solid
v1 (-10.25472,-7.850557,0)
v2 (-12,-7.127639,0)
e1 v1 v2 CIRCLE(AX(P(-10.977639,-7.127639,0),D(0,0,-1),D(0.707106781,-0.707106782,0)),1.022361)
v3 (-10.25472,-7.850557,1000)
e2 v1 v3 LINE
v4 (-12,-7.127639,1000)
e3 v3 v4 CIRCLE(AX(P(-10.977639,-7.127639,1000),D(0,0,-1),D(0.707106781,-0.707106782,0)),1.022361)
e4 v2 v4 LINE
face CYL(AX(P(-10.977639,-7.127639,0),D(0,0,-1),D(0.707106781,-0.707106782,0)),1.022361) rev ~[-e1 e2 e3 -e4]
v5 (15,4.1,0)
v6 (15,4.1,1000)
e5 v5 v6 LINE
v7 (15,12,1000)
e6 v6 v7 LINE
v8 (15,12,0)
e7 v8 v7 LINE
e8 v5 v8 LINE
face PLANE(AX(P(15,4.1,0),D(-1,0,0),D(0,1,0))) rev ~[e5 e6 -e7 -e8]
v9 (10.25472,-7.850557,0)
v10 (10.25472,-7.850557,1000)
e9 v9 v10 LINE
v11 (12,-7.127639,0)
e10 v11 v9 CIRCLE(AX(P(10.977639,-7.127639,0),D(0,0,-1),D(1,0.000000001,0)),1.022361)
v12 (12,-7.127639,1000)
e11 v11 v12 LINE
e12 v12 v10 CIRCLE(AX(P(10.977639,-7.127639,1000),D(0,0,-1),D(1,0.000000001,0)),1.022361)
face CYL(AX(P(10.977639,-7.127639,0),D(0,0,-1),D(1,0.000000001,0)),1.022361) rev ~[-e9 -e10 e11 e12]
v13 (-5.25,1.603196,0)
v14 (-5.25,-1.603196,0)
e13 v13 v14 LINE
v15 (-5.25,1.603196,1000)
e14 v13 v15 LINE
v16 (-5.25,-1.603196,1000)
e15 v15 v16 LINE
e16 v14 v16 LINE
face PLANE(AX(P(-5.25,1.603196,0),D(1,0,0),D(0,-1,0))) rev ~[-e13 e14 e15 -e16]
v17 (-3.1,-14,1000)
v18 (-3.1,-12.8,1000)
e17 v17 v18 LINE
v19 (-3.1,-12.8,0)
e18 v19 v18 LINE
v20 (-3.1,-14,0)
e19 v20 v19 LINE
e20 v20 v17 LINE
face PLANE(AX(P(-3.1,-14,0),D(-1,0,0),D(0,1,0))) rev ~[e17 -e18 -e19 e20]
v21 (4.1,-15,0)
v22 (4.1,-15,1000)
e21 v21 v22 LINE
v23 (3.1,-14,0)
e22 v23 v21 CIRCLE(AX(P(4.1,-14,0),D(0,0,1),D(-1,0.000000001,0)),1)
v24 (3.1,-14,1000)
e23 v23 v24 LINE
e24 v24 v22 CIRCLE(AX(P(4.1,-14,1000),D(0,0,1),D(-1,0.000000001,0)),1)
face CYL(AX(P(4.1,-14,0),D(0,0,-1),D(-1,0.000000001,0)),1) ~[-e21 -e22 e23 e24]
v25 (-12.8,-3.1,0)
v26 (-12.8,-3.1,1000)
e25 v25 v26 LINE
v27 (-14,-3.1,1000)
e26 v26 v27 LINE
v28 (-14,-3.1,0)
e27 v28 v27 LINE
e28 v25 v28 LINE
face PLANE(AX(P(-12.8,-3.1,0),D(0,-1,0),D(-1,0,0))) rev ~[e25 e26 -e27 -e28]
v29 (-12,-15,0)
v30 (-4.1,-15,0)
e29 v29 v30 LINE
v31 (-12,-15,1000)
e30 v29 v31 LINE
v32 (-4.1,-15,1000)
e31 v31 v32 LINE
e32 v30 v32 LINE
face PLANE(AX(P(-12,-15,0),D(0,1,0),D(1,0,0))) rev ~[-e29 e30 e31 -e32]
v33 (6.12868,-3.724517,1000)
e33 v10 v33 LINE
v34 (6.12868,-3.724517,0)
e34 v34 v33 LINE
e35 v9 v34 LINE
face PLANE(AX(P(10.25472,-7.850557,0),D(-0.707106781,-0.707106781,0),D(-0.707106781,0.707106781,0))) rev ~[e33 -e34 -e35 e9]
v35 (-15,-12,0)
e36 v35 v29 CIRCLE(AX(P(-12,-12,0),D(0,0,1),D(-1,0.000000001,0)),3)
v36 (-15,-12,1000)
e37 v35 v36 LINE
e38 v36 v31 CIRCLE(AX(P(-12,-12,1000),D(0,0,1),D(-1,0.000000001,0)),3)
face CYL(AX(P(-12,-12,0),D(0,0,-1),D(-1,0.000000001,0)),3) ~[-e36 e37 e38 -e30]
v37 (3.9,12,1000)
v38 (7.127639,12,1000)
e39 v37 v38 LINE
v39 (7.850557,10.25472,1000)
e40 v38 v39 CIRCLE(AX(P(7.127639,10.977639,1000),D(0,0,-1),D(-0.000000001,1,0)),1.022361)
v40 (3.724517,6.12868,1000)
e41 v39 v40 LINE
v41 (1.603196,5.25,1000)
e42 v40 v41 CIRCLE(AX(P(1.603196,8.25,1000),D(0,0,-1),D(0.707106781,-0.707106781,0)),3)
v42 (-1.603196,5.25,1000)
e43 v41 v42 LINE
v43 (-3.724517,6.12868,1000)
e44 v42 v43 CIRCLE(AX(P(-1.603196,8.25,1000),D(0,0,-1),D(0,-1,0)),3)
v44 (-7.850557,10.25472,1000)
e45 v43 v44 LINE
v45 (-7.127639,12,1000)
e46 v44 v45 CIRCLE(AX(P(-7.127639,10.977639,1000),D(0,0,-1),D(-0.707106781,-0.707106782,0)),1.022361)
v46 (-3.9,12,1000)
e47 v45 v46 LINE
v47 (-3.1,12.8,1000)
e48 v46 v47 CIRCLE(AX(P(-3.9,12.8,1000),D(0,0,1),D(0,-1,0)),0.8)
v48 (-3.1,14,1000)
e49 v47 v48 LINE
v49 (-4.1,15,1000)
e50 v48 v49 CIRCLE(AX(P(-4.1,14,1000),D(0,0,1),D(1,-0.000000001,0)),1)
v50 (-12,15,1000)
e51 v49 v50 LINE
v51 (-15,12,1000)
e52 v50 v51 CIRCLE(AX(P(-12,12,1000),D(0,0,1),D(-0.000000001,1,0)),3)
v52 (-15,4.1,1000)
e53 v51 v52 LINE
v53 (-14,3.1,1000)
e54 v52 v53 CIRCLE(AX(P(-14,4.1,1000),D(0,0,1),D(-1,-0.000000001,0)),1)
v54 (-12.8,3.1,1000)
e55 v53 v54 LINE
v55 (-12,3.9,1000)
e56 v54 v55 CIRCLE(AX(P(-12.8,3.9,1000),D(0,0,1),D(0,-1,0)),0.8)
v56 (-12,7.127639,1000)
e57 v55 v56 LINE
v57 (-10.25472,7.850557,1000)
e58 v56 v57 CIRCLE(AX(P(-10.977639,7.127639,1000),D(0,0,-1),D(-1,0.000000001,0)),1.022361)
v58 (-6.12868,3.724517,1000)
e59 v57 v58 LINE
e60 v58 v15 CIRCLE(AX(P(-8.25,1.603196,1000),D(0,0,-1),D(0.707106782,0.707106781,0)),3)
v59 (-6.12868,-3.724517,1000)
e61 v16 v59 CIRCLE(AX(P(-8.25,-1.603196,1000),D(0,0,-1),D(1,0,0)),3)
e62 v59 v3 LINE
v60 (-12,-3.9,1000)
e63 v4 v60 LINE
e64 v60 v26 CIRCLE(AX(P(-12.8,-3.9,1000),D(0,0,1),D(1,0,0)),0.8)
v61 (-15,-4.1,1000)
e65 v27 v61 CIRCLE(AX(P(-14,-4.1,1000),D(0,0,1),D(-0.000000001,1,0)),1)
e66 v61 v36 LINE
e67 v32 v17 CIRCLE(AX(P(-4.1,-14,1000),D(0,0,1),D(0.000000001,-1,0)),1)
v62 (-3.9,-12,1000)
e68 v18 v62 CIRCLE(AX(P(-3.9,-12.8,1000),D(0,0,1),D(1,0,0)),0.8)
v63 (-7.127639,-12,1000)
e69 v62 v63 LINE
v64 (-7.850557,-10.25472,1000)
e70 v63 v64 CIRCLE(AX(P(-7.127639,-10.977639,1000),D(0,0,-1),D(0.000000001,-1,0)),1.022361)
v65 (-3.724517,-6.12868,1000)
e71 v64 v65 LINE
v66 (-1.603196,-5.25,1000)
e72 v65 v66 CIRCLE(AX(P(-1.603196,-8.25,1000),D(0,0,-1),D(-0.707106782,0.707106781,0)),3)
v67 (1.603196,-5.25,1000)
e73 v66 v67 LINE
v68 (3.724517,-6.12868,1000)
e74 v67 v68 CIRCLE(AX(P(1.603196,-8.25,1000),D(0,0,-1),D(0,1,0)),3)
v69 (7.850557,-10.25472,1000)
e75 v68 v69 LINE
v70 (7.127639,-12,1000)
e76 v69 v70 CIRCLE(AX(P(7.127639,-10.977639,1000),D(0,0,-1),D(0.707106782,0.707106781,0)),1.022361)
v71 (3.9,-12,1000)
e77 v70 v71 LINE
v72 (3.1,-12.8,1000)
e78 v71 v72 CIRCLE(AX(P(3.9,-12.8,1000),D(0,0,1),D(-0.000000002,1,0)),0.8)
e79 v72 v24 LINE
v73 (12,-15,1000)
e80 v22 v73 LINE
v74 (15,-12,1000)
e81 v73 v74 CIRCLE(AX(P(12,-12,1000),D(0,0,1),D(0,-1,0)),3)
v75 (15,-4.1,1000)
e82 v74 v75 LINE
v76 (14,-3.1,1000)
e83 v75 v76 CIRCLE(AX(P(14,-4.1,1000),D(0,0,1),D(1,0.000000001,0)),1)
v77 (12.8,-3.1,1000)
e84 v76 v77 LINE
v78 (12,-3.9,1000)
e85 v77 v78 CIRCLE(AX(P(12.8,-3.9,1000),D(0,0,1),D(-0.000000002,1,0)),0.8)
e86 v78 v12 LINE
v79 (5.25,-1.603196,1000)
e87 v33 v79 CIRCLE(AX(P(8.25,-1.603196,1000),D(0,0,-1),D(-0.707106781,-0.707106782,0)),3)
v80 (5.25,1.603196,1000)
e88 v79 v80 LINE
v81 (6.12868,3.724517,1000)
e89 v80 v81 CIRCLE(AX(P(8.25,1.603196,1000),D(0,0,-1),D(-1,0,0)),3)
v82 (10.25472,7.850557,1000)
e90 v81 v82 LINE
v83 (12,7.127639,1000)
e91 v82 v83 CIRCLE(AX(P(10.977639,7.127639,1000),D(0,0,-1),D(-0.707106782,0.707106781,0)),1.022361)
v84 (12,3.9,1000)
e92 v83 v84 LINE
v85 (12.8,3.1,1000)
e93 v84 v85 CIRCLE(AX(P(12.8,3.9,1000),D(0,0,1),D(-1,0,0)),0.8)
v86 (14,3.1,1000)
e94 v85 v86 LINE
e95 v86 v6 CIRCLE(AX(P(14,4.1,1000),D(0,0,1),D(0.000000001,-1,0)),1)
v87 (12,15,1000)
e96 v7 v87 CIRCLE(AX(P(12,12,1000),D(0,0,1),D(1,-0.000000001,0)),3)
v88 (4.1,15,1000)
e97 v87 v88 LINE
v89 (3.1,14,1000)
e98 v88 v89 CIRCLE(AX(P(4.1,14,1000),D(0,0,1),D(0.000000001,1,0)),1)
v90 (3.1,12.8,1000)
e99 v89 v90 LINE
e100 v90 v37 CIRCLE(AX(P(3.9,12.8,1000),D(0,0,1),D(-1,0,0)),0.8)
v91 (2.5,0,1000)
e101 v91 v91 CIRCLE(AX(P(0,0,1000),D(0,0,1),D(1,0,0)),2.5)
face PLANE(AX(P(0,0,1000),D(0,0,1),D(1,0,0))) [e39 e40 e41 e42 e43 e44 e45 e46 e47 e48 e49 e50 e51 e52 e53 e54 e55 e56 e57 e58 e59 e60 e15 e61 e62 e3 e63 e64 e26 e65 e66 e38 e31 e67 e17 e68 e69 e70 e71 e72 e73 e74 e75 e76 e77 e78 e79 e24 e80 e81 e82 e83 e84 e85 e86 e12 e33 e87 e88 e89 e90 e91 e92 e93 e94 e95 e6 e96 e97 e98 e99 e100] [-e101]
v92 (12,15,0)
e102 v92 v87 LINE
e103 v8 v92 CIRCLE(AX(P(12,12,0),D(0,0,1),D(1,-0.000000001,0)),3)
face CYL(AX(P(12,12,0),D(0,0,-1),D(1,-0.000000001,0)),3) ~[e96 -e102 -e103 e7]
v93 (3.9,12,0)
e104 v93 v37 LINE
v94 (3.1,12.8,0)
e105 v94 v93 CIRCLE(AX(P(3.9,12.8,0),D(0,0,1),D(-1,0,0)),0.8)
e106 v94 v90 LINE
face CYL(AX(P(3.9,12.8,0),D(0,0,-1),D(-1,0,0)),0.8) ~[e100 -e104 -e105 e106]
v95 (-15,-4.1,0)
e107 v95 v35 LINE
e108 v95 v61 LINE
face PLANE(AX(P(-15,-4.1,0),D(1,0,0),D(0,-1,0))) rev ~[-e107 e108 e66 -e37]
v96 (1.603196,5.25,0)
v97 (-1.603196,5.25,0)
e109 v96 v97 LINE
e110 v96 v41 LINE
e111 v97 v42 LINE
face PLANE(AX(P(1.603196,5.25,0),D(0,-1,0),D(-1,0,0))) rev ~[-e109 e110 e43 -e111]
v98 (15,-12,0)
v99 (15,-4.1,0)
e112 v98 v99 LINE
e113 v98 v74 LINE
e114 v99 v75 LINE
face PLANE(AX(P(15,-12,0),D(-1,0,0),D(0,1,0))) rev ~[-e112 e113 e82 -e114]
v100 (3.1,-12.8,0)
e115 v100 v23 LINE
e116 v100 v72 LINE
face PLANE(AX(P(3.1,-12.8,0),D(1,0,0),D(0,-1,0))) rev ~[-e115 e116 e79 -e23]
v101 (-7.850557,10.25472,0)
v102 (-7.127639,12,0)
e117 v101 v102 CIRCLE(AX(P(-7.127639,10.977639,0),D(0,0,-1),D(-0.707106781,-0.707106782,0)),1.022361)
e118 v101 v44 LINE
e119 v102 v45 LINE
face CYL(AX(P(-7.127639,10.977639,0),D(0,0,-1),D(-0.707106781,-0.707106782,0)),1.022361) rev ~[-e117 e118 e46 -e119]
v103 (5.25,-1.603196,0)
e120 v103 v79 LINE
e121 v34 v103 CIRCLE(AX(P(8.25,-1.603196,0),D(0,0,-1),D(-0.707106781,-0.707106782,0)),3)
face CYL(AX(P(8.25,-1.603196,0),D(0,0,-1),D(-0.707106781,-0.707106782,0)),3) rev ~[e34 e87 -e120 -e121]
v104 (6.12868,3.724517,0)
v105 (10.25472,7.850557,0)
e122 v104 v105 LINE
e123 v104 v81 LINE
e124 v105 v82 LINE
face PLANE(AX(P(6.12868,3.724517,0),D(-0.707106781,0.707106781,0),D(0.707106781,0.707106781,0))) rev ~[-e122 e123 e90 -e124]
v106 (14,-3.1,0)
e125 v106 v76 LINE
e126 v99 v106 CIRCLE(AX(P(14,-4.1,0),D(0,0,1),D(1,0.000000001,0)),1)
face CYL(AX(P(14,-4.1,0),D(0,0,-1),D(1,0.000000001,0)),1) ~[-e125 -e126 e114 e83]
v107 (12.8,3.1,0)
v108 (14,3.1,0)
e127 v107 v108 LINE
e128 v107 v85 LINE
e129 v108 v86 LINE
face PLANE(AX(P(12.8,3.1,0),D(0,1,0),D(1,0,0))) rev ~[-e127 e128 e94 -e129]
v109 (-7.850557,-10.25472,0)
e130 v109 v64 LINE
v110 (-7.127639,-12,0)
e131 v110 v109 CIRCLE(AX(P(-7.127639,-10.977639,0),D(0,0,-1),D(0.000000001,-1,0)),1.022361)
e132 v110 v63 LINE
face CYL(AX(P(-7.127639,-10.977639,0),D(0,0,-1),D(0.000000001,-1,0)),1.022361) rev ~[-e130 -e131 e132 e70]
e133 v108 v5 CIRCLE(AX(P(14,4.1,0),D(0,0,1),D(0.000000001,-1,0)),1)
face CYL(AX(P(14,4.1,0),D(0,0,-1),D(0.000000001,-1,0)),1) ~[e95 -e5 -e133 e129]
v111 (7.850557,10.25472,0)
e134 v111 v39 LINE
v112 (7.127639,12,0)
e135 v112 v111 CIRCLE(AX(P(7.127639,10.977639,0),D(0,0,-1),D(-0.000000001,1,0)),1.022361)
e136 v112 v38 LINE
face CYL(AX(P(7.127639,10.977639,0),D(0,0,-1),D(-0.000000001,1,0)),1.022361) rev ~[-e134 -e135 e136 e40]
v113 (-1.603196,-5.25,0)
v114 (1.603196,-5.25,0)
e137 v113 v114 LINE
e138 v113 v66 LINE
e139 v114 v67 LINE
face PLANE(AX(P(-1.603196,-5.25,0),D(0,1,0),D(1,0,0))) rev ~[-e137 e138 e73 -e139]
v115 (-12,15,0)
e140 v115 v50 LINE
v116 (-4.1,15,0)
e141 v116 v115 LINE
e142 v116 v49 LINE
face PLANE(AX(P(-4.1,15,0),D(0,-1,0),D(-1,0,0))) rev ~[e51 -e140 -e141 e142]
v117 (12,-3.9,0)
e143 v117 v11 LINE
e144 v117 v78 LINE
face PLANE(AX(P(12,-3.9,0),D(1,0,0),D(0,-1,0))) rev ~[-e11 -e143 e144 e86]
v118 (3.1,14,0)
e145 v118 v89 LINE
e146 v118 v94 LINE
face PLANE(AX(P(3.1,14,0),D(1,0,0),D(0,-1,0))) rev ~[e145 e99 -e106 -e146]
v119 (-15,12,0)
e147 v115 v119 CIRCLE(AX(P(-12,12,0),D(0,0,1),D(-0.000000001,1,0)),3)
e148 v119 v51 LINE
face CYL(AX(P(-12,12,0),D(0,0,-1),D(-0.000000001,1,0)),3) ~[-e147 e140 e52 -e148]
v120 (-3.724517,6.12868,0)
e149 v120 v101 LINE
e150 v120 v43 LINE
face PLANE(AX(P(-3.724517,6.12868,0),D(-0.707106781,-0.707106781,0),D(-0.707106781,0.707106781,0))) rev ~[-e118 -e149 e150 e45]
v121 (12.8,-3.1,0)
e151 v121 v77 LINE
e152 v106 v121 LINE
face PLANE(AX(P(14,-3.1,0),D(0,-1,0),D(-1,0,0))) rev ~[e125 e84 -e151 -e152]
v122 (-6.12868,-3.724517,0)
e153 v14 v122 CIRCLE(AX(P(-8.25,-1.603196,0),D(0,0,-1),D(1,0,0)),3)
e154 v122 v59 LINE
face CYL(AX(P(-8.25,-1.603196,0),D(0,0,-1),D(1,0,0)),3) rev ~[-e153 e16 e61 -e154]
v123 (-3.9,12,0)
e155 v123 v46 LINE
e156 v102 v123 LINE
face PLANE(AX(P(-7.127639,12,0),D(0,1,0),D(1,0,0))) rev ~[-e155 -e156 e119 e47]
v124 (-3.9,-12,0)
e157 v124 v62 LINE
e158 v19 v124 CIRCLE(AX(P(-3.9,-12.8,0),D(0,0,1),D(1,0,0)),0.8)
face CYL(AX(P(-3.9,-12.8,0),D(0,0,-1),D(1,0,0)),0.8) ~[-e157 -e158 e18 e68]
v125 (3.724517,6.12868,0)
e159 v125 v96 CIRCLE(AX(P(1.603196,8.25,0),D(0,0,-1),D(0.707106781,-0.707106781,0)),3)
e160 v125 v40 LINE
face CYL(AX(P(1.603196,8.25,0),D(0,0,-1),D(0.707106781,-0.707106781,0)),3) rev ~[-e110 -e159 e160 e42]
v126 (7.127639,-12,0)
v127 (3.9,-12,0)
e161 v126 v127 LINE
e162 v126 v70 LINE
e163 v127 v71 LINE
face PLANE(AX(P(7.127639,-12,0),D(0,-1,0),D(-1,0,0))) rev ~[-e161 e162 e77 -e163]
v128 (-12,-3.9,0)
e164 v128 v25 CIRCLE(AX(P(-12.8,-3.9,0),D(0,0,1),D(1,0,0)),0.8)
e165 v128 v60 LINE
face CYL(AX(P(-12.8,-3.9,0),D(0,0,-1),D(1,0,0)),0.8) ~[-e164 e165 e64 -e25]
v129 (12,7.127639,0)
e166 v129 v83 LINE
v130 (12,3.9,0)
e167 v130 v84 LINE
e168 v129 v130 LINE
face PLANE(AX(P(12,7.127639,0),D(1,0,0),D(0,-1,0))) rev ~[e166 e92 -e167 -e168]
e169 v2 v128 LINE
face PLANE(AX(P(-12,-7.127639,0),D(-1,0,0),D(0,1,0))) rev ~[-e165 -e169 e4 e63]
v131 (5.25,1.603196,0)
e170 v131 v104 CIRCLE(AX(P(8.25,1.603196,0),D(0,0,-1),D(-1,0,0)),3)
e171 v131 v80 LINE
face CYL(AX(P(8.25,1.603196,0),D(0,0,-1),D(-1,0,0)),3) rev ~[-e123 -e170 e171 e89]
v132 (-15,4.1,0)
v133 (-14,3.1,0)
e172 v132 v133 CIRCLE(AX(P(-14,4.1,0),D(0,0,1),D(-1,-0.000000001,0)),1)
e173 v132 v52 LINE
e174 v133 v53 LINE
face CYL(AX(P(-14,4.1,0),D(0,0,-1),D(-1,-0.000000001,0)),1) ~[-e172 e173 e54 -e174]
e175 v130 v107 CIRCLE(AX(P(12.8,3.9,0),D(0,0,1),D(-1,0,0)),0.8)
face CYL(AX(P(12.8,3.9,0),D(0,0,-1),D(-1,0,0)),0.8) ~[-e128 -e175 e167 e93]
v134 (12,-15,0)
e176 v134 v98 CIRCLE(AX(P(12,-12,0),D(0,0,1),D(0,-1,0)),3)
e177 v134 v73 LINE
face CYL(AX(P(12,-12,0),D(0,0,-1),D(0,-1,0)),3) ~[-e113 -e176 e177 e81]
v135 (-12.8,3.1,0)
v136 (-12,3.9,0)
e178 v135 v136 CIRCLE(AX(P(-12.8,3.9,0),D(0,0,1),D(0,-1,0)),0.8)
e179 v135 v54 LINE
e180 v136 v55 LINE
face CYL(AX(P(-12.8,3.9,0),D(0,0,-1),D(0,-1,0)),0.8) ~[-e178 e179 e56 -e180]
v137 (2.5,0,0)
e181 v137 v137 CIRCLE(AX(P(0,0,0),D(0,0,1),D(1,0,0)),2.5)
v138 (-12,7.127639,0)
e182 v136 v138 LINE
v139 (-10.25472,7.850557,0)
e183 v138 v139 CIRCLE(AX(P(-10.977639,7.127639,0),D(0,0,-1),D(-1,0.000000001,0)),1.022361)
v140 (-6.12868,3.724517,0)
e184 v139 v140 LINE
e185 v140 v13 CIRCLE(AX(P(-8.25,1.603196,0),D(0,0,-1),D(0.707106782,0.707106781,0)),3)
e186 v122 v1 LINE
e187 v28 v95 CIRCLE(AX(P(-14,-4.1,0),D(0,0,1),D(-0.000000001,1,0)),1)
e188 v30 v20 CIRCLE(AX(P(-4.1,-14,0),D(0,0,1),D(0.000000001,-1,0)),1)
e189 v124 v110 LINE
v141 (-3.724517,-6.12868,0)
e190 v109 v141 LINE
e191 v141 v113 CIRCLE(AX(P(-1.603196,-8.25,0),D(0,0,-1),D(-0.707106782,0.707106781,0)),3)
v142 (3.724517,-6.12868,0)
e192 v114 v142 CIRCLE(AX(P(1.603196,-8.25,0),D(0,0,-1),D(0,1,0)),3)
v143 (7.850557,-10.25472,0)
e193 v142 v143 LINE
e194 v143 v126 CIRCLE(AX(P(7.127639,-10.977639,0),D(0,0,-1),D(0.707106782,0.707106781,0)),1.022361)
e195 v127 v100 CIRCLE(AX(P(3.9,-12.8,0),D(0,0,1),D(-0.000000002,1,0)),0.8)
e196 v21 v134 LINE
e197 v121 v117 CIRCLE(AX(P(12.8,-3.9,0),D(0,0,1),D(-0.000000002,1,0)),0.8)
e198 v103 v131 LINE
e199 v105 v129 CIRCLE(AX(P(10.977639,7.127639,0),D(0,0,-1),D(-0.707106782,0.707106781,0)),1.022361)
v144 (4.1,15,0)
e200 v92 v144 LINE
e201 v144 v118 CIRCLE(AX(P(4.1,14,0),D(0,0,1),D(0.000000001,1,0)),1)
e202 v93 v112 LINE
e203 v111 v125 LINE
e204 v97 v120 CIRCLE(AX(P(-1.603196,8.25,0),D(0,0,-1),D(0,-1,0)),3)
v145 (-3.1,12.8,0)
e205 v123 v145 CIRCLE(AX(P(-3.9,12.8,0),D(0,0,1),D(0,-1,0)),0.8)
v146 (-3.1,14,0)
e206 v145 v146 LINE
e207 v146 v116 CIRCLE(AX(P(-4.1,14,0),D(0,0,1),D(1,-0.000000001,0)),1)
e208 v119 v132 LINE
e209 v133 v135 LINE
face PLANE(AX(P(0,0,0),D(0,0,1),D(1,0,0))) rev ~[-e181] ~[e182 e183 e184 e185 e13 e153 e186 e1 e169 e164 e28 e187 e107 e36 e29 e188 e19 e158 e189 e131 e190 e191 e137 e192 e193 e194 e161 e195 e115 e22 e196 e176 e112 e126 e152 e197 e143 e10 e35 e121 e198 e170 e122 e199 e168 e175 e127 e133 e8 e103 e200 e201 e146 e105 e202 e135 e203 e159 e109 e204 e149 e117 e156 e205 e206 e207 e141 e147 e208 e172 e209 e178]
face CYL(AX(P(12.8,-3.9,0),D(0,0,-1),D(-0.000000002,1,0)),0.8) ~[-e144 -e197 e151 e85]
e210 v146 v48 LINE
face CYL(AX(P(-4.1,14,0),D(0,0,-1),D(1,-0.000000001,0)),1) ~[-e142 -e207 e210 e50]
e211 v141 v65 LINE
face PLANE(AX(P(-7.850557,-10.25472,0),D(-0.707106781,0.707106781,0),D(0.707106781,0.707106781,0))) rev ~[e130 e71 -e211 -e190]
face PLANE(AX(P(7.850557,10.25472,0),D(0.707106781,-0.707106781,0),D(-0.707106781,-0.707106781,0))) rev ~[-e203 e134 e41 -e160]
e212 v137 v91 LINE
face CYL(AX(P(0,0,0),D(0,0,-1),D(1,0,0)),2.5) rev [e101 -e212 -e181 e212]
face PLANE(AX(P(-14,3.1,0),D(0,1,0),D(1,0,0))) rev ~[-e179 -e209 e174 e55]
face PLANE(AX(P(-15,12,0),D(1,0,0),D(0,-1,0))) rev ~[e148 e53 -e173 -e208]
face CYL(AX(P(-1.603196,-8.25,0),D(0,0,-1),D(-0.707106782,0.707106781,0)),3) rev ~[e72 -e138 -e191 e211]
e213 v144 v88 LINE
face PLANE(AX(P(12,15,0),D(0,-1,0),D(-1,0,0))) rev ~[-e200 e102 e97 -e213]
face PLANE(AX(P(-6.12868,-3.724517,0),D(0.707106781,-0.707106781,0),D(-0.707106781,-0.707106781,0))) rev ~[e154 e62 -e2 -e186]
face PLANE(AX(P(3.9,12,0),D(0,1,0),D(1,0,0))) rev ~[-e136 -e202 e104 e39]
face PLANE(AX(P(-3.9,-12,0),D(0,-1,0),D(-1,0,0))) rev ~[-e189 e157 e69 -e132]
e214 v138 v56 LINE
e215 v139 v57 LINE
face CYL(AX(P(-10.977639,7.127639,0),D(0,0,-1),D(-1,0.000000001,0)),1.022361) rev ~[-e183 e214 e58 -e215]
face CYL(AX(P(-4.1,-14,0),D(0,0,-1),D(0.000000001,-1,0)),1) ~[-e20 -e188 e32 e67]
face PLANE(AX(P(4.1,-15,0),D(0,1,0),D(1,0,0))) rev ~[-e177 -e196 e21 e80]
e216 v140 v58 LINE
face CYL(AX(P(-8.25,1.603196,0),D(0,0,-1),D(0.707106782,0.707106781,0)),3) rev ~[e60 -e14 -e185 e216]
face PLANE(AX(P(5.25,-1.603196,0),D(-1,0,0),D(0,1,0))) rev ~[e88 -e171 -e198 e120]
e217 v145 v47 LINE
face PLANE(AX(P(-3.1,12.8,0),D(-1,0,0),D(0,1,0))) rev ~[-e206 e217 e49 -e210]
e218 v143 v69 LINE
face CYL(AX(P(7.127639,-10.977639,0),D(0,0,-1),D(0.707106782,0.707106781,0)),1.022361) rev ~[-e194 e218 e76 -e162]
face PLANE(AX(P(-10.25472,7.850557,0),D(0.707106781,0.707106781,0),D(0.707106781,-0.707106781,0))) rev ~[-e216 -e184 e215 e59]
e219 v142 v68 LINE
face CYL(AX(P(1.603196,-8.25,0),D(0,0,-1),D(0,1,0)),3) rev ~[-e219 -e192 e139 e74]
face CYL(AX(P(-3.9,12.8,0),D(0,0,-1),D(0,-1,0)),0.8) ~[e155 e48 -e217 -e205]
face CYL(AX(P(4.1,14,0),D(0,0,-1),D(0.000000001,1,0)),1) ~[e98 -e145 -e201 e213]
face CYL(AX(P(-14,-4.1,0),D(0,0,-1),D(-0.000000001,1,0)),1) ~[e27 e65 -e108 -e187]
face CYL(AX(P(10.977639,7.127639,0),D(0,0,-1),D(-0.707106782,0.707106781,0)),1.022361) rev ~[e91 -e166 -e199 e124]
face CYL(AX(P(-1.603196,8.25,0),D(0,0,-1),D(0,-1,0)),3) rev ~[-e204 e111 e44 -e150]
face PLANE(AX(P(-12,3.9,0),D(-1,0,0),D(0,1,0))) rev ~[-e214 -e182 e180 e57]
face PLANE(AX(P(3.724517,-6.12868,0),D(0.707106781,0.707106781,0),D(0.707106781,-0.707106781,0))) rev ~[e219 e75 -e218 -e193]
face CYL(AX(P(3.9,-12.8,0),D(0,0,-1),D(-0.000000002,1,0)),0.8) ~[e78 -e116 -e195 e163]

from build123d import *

# Parameters (mm, degrees)
SKETCH1_R           = 2.5
BOSS_EXTRUDE1_DEPTH = 1000


with BuildPart() as part:
    # Sketch1 → Boss-Extrude1 (new body)
    with BuildSketch(Plane.XY):
        with BuildLine():
            Line((1.603196264, 5.250000001), (-1.603196256, 5.250000001))
            ThreePointArc((-1.603196256, 5.250000001), (-2.751246551, 5.478361403), (-3.724516596, 6.128679656))
            Line((-3.724516596, 6.128679656), (-7.850557356, 10.254720416))
            ThreePointArc((-7.850557356, 10.254720416), (-8.072177387, 11.368879549), (-7.127638883, 12))
            Line((-7.127638883, 12), (-3.899999993, 12))
            ThreePointArc((-3.899999993, 12), (-3.334314568, 12.234314575), (-3.099999993, 12.8))
            Line((-3.099999993, 12.8), (-3.099999993, 14))
            ThreePointArc((-3.099999993, 14), (-3.392893211, 14.707106781), (-4.099999993, 15))
            Line((-4.099999993, 15), (-11.999999993, 15))
            ThreePointArc((-11.999999993, 15), (-14.121320336, 14.121320343), (-14.999999993, 12))
            Line((-14.999999993, 12), (-14.999999993, 4.1))
            ThreePointArc((-14.999999993, 4.1), (-14.707106774, 3.392893219), (-13.999999993, 3.1))
            Line((-13.999999993, 3.1), (-12.799999993, 3.1))
            ThreePointArc((-12.799999993, 3.1), (-12.234314568, 3.334314575), (-11.999999993, 3.9))
            Line((-11.999999993, 3.9), (-11.999999993, 7.12763889))
            ThreePointArc((-11.999999993, 7.12763889), (-11.368879545, 8.072177389), (-10.254720418, 7.85055736))
            Line((-10.254720418, 7.85055736), (-6.128679658, 3.7245166))
            ThreePointArc((-6.128679658, 3.7245166), (-5.478361404, 2.751246553), (-5.250000001, 1.603196256))
            Line((-5.250000001, 1.603196256), (-5.250000001, -1.603196264))
            ThreePointArc((-5.250000001, -1.603196264), (-5.478361403, -2.751246559), (-6.128679656, -3.724516604))
            Line((-6.128679656, -3.724516604), (-10.254720416, -7.850557364))
            ThreePointArc((-10.254720416, -7.850557364), (-11.368879549, -8.072177394), (-12, -7.12763889))
            Line((-12, -7.12763889), (-12, -3.9))
            ThreePointArc((-12, -3.9), (-12.234314575, -3.334314575), (-12.8, -3.1))
            Line((-12.8, -3.1), (-14, -3.1))
            ThreePointArc((-14, -3.1), (-14.707106781, -3.392893219), (-15, -4.1))
            Line((-15, -4.1), (-15, -12))
            ThreePointArc((-15, -12), (-14.121320344, -14.121320344), (-12, -15))
            Line((-12, -15), (-4.1, -15))
            ThreePointArc((-4.1, -15), (-3.392893219, -14.707106781), (-3.1, -14))
            Line((-3.1, -14), (-3.1, -12.8))
            ThreePointArc((-3.1, -12.8), (-3.334314575, -12.234314575), (-3.9, -12))
            Line((-3.9, -12), (-7.12763889, -12))
            ThreePointArc((-7.12763889, -12), (-8.07217739, -11.368879552), (-7.85055736, -10.254720425))
            Line((-7.85055736, -10.254720425), (-3.7245166, -6.128679665))
            ThreePointArc((-3.7245166, -6.128679665), (-2.751246554, -5.478361411), (-1.603196256, -5.250000009))
            Line((-1.603196256, -5.250000009), (1.603196264, -5.250000009))
            ThreePointArc((1.603196264, -5.250000009), (2.751246559, -5.478361411), (3.724516604, -6.128679664))
            Line((3.724516604, -6.128679664), (7.850557364, -10.254720424))
            ThreePointArc((7.850557364, -10.254720424), (8.072177394, -11.368879556), (7.12763889, -12.000000007))
            Line((7.12763889, -12.000000007), (3.9, -12.000000007))
            ThreePointArc((3.9, -12.000000007), (3.334314575, -12.234314583), (3.1, -12.800000007))
            Line((3.1, -12.800000007), (3.1, -14.000000007))
            ThreePointArc((3.1, -14.000000007), (3.392893219, -14.707106789), (4.1, -15.000000007))
            Line((4.1, -15.000000007), (12, -15.000000007))
            ThreePointArc((12, -15.000000007), (14.121320343, -14.121320351), (15, -12.000000007))
            Line((15, -12.000000007), (15, -4.100000007))
            ThreePointArc((15, -4.100000007), (14.707106781, -3.392893226), (14, -3.100000007))
            Line((14, -3.100000007), (12.8, -3.100000007))
            ThreePointArc((12.8, -3.100000007), (12.234314575, -3.334314583), (12, -3.900000007))
            Line((12, -3.900000007), (12, -7.127638897))
            ThreePointArc((12, -7.127638897), (11.368879552, -8.072177397), (10.254720425, -7.850557367))
            Line((10.254720425, -7.850557367), (6.128679665, -3.724516607))
            ThreePointArc((6.128679665, -3.724516607), (5.478361411, -2.751246561), (5.250000009, -1.603196264))
            Line((5.250000009, -1.603196264), (5.250000009, 1.603196256))
            ThreePointArc((5.250000009, 1.603196256), (5.478361411, 2.751246551), (6.128679664, 3.724516596))
            Line((6.128679664, 3.724516596), (10.254720424, 7.850557356))
            ThreePointArc((10.254720424, 7.850557356), (11.368879556, 8.072177387), (12.000000007, 7.127638882))
            Line((12.000000007, 7.127638882), (12.000000007, 3.899999992))
            ThreePointArc((12.000000007, 3.899999992), (12.234314582, 3.334314567), (12.800000007, 3.099999992))
            Line((12.800000007, 3.099999992), (14.000000007, 3.099999992))
            ThreePointArc((14.000000007, 3.099999992), (14.707106788, 3.392893211), (15.000000007, 4.099999992))
            Line((15.000000007, 4.099999992), (15.000000007, 11.999999992))
            ThreePointArc((15.000000007, 11.999999992), (14.121320351, 14.121320336), (12.000000007, 14.999999992))
            Line((12.000000007, 14.999999992), (4.100000007, 14.999999992))
            ThreePointArc((4.100000007, 14.999999992), (3.392893226, 14.707106774), (3.100000007, 13.999999992))
            Line((3.100000007, 13.999999992), (3.100000007, 12.799999992))
            ThreePointArc((3.100000007, 12.799999992), (3.334314582, 12.234314567), (3.900000007, 11.999999992))
            Line((3.900000007, 11.999999992), (7.127638897, 11.999999992))
            ThreePointArc((7.127638897, 11.999999992), (8.072177397, 11.368879544), (7.850557367, 10.254720418))
            Line((7.850557367, 10.254720418), (3.724516607, 6.128679658))
            ThreePointArc((3.724516607, 6.128679658), (2.751246561, 5.478361404), (1.603196264, 5.250000001))
        make_face()
        Circle(SKETCH1_R, mode=Mode.SUBTRACT)
    extrude(amount=BOSS_EXTRUDE1_DEPTH)


solid = part.part
